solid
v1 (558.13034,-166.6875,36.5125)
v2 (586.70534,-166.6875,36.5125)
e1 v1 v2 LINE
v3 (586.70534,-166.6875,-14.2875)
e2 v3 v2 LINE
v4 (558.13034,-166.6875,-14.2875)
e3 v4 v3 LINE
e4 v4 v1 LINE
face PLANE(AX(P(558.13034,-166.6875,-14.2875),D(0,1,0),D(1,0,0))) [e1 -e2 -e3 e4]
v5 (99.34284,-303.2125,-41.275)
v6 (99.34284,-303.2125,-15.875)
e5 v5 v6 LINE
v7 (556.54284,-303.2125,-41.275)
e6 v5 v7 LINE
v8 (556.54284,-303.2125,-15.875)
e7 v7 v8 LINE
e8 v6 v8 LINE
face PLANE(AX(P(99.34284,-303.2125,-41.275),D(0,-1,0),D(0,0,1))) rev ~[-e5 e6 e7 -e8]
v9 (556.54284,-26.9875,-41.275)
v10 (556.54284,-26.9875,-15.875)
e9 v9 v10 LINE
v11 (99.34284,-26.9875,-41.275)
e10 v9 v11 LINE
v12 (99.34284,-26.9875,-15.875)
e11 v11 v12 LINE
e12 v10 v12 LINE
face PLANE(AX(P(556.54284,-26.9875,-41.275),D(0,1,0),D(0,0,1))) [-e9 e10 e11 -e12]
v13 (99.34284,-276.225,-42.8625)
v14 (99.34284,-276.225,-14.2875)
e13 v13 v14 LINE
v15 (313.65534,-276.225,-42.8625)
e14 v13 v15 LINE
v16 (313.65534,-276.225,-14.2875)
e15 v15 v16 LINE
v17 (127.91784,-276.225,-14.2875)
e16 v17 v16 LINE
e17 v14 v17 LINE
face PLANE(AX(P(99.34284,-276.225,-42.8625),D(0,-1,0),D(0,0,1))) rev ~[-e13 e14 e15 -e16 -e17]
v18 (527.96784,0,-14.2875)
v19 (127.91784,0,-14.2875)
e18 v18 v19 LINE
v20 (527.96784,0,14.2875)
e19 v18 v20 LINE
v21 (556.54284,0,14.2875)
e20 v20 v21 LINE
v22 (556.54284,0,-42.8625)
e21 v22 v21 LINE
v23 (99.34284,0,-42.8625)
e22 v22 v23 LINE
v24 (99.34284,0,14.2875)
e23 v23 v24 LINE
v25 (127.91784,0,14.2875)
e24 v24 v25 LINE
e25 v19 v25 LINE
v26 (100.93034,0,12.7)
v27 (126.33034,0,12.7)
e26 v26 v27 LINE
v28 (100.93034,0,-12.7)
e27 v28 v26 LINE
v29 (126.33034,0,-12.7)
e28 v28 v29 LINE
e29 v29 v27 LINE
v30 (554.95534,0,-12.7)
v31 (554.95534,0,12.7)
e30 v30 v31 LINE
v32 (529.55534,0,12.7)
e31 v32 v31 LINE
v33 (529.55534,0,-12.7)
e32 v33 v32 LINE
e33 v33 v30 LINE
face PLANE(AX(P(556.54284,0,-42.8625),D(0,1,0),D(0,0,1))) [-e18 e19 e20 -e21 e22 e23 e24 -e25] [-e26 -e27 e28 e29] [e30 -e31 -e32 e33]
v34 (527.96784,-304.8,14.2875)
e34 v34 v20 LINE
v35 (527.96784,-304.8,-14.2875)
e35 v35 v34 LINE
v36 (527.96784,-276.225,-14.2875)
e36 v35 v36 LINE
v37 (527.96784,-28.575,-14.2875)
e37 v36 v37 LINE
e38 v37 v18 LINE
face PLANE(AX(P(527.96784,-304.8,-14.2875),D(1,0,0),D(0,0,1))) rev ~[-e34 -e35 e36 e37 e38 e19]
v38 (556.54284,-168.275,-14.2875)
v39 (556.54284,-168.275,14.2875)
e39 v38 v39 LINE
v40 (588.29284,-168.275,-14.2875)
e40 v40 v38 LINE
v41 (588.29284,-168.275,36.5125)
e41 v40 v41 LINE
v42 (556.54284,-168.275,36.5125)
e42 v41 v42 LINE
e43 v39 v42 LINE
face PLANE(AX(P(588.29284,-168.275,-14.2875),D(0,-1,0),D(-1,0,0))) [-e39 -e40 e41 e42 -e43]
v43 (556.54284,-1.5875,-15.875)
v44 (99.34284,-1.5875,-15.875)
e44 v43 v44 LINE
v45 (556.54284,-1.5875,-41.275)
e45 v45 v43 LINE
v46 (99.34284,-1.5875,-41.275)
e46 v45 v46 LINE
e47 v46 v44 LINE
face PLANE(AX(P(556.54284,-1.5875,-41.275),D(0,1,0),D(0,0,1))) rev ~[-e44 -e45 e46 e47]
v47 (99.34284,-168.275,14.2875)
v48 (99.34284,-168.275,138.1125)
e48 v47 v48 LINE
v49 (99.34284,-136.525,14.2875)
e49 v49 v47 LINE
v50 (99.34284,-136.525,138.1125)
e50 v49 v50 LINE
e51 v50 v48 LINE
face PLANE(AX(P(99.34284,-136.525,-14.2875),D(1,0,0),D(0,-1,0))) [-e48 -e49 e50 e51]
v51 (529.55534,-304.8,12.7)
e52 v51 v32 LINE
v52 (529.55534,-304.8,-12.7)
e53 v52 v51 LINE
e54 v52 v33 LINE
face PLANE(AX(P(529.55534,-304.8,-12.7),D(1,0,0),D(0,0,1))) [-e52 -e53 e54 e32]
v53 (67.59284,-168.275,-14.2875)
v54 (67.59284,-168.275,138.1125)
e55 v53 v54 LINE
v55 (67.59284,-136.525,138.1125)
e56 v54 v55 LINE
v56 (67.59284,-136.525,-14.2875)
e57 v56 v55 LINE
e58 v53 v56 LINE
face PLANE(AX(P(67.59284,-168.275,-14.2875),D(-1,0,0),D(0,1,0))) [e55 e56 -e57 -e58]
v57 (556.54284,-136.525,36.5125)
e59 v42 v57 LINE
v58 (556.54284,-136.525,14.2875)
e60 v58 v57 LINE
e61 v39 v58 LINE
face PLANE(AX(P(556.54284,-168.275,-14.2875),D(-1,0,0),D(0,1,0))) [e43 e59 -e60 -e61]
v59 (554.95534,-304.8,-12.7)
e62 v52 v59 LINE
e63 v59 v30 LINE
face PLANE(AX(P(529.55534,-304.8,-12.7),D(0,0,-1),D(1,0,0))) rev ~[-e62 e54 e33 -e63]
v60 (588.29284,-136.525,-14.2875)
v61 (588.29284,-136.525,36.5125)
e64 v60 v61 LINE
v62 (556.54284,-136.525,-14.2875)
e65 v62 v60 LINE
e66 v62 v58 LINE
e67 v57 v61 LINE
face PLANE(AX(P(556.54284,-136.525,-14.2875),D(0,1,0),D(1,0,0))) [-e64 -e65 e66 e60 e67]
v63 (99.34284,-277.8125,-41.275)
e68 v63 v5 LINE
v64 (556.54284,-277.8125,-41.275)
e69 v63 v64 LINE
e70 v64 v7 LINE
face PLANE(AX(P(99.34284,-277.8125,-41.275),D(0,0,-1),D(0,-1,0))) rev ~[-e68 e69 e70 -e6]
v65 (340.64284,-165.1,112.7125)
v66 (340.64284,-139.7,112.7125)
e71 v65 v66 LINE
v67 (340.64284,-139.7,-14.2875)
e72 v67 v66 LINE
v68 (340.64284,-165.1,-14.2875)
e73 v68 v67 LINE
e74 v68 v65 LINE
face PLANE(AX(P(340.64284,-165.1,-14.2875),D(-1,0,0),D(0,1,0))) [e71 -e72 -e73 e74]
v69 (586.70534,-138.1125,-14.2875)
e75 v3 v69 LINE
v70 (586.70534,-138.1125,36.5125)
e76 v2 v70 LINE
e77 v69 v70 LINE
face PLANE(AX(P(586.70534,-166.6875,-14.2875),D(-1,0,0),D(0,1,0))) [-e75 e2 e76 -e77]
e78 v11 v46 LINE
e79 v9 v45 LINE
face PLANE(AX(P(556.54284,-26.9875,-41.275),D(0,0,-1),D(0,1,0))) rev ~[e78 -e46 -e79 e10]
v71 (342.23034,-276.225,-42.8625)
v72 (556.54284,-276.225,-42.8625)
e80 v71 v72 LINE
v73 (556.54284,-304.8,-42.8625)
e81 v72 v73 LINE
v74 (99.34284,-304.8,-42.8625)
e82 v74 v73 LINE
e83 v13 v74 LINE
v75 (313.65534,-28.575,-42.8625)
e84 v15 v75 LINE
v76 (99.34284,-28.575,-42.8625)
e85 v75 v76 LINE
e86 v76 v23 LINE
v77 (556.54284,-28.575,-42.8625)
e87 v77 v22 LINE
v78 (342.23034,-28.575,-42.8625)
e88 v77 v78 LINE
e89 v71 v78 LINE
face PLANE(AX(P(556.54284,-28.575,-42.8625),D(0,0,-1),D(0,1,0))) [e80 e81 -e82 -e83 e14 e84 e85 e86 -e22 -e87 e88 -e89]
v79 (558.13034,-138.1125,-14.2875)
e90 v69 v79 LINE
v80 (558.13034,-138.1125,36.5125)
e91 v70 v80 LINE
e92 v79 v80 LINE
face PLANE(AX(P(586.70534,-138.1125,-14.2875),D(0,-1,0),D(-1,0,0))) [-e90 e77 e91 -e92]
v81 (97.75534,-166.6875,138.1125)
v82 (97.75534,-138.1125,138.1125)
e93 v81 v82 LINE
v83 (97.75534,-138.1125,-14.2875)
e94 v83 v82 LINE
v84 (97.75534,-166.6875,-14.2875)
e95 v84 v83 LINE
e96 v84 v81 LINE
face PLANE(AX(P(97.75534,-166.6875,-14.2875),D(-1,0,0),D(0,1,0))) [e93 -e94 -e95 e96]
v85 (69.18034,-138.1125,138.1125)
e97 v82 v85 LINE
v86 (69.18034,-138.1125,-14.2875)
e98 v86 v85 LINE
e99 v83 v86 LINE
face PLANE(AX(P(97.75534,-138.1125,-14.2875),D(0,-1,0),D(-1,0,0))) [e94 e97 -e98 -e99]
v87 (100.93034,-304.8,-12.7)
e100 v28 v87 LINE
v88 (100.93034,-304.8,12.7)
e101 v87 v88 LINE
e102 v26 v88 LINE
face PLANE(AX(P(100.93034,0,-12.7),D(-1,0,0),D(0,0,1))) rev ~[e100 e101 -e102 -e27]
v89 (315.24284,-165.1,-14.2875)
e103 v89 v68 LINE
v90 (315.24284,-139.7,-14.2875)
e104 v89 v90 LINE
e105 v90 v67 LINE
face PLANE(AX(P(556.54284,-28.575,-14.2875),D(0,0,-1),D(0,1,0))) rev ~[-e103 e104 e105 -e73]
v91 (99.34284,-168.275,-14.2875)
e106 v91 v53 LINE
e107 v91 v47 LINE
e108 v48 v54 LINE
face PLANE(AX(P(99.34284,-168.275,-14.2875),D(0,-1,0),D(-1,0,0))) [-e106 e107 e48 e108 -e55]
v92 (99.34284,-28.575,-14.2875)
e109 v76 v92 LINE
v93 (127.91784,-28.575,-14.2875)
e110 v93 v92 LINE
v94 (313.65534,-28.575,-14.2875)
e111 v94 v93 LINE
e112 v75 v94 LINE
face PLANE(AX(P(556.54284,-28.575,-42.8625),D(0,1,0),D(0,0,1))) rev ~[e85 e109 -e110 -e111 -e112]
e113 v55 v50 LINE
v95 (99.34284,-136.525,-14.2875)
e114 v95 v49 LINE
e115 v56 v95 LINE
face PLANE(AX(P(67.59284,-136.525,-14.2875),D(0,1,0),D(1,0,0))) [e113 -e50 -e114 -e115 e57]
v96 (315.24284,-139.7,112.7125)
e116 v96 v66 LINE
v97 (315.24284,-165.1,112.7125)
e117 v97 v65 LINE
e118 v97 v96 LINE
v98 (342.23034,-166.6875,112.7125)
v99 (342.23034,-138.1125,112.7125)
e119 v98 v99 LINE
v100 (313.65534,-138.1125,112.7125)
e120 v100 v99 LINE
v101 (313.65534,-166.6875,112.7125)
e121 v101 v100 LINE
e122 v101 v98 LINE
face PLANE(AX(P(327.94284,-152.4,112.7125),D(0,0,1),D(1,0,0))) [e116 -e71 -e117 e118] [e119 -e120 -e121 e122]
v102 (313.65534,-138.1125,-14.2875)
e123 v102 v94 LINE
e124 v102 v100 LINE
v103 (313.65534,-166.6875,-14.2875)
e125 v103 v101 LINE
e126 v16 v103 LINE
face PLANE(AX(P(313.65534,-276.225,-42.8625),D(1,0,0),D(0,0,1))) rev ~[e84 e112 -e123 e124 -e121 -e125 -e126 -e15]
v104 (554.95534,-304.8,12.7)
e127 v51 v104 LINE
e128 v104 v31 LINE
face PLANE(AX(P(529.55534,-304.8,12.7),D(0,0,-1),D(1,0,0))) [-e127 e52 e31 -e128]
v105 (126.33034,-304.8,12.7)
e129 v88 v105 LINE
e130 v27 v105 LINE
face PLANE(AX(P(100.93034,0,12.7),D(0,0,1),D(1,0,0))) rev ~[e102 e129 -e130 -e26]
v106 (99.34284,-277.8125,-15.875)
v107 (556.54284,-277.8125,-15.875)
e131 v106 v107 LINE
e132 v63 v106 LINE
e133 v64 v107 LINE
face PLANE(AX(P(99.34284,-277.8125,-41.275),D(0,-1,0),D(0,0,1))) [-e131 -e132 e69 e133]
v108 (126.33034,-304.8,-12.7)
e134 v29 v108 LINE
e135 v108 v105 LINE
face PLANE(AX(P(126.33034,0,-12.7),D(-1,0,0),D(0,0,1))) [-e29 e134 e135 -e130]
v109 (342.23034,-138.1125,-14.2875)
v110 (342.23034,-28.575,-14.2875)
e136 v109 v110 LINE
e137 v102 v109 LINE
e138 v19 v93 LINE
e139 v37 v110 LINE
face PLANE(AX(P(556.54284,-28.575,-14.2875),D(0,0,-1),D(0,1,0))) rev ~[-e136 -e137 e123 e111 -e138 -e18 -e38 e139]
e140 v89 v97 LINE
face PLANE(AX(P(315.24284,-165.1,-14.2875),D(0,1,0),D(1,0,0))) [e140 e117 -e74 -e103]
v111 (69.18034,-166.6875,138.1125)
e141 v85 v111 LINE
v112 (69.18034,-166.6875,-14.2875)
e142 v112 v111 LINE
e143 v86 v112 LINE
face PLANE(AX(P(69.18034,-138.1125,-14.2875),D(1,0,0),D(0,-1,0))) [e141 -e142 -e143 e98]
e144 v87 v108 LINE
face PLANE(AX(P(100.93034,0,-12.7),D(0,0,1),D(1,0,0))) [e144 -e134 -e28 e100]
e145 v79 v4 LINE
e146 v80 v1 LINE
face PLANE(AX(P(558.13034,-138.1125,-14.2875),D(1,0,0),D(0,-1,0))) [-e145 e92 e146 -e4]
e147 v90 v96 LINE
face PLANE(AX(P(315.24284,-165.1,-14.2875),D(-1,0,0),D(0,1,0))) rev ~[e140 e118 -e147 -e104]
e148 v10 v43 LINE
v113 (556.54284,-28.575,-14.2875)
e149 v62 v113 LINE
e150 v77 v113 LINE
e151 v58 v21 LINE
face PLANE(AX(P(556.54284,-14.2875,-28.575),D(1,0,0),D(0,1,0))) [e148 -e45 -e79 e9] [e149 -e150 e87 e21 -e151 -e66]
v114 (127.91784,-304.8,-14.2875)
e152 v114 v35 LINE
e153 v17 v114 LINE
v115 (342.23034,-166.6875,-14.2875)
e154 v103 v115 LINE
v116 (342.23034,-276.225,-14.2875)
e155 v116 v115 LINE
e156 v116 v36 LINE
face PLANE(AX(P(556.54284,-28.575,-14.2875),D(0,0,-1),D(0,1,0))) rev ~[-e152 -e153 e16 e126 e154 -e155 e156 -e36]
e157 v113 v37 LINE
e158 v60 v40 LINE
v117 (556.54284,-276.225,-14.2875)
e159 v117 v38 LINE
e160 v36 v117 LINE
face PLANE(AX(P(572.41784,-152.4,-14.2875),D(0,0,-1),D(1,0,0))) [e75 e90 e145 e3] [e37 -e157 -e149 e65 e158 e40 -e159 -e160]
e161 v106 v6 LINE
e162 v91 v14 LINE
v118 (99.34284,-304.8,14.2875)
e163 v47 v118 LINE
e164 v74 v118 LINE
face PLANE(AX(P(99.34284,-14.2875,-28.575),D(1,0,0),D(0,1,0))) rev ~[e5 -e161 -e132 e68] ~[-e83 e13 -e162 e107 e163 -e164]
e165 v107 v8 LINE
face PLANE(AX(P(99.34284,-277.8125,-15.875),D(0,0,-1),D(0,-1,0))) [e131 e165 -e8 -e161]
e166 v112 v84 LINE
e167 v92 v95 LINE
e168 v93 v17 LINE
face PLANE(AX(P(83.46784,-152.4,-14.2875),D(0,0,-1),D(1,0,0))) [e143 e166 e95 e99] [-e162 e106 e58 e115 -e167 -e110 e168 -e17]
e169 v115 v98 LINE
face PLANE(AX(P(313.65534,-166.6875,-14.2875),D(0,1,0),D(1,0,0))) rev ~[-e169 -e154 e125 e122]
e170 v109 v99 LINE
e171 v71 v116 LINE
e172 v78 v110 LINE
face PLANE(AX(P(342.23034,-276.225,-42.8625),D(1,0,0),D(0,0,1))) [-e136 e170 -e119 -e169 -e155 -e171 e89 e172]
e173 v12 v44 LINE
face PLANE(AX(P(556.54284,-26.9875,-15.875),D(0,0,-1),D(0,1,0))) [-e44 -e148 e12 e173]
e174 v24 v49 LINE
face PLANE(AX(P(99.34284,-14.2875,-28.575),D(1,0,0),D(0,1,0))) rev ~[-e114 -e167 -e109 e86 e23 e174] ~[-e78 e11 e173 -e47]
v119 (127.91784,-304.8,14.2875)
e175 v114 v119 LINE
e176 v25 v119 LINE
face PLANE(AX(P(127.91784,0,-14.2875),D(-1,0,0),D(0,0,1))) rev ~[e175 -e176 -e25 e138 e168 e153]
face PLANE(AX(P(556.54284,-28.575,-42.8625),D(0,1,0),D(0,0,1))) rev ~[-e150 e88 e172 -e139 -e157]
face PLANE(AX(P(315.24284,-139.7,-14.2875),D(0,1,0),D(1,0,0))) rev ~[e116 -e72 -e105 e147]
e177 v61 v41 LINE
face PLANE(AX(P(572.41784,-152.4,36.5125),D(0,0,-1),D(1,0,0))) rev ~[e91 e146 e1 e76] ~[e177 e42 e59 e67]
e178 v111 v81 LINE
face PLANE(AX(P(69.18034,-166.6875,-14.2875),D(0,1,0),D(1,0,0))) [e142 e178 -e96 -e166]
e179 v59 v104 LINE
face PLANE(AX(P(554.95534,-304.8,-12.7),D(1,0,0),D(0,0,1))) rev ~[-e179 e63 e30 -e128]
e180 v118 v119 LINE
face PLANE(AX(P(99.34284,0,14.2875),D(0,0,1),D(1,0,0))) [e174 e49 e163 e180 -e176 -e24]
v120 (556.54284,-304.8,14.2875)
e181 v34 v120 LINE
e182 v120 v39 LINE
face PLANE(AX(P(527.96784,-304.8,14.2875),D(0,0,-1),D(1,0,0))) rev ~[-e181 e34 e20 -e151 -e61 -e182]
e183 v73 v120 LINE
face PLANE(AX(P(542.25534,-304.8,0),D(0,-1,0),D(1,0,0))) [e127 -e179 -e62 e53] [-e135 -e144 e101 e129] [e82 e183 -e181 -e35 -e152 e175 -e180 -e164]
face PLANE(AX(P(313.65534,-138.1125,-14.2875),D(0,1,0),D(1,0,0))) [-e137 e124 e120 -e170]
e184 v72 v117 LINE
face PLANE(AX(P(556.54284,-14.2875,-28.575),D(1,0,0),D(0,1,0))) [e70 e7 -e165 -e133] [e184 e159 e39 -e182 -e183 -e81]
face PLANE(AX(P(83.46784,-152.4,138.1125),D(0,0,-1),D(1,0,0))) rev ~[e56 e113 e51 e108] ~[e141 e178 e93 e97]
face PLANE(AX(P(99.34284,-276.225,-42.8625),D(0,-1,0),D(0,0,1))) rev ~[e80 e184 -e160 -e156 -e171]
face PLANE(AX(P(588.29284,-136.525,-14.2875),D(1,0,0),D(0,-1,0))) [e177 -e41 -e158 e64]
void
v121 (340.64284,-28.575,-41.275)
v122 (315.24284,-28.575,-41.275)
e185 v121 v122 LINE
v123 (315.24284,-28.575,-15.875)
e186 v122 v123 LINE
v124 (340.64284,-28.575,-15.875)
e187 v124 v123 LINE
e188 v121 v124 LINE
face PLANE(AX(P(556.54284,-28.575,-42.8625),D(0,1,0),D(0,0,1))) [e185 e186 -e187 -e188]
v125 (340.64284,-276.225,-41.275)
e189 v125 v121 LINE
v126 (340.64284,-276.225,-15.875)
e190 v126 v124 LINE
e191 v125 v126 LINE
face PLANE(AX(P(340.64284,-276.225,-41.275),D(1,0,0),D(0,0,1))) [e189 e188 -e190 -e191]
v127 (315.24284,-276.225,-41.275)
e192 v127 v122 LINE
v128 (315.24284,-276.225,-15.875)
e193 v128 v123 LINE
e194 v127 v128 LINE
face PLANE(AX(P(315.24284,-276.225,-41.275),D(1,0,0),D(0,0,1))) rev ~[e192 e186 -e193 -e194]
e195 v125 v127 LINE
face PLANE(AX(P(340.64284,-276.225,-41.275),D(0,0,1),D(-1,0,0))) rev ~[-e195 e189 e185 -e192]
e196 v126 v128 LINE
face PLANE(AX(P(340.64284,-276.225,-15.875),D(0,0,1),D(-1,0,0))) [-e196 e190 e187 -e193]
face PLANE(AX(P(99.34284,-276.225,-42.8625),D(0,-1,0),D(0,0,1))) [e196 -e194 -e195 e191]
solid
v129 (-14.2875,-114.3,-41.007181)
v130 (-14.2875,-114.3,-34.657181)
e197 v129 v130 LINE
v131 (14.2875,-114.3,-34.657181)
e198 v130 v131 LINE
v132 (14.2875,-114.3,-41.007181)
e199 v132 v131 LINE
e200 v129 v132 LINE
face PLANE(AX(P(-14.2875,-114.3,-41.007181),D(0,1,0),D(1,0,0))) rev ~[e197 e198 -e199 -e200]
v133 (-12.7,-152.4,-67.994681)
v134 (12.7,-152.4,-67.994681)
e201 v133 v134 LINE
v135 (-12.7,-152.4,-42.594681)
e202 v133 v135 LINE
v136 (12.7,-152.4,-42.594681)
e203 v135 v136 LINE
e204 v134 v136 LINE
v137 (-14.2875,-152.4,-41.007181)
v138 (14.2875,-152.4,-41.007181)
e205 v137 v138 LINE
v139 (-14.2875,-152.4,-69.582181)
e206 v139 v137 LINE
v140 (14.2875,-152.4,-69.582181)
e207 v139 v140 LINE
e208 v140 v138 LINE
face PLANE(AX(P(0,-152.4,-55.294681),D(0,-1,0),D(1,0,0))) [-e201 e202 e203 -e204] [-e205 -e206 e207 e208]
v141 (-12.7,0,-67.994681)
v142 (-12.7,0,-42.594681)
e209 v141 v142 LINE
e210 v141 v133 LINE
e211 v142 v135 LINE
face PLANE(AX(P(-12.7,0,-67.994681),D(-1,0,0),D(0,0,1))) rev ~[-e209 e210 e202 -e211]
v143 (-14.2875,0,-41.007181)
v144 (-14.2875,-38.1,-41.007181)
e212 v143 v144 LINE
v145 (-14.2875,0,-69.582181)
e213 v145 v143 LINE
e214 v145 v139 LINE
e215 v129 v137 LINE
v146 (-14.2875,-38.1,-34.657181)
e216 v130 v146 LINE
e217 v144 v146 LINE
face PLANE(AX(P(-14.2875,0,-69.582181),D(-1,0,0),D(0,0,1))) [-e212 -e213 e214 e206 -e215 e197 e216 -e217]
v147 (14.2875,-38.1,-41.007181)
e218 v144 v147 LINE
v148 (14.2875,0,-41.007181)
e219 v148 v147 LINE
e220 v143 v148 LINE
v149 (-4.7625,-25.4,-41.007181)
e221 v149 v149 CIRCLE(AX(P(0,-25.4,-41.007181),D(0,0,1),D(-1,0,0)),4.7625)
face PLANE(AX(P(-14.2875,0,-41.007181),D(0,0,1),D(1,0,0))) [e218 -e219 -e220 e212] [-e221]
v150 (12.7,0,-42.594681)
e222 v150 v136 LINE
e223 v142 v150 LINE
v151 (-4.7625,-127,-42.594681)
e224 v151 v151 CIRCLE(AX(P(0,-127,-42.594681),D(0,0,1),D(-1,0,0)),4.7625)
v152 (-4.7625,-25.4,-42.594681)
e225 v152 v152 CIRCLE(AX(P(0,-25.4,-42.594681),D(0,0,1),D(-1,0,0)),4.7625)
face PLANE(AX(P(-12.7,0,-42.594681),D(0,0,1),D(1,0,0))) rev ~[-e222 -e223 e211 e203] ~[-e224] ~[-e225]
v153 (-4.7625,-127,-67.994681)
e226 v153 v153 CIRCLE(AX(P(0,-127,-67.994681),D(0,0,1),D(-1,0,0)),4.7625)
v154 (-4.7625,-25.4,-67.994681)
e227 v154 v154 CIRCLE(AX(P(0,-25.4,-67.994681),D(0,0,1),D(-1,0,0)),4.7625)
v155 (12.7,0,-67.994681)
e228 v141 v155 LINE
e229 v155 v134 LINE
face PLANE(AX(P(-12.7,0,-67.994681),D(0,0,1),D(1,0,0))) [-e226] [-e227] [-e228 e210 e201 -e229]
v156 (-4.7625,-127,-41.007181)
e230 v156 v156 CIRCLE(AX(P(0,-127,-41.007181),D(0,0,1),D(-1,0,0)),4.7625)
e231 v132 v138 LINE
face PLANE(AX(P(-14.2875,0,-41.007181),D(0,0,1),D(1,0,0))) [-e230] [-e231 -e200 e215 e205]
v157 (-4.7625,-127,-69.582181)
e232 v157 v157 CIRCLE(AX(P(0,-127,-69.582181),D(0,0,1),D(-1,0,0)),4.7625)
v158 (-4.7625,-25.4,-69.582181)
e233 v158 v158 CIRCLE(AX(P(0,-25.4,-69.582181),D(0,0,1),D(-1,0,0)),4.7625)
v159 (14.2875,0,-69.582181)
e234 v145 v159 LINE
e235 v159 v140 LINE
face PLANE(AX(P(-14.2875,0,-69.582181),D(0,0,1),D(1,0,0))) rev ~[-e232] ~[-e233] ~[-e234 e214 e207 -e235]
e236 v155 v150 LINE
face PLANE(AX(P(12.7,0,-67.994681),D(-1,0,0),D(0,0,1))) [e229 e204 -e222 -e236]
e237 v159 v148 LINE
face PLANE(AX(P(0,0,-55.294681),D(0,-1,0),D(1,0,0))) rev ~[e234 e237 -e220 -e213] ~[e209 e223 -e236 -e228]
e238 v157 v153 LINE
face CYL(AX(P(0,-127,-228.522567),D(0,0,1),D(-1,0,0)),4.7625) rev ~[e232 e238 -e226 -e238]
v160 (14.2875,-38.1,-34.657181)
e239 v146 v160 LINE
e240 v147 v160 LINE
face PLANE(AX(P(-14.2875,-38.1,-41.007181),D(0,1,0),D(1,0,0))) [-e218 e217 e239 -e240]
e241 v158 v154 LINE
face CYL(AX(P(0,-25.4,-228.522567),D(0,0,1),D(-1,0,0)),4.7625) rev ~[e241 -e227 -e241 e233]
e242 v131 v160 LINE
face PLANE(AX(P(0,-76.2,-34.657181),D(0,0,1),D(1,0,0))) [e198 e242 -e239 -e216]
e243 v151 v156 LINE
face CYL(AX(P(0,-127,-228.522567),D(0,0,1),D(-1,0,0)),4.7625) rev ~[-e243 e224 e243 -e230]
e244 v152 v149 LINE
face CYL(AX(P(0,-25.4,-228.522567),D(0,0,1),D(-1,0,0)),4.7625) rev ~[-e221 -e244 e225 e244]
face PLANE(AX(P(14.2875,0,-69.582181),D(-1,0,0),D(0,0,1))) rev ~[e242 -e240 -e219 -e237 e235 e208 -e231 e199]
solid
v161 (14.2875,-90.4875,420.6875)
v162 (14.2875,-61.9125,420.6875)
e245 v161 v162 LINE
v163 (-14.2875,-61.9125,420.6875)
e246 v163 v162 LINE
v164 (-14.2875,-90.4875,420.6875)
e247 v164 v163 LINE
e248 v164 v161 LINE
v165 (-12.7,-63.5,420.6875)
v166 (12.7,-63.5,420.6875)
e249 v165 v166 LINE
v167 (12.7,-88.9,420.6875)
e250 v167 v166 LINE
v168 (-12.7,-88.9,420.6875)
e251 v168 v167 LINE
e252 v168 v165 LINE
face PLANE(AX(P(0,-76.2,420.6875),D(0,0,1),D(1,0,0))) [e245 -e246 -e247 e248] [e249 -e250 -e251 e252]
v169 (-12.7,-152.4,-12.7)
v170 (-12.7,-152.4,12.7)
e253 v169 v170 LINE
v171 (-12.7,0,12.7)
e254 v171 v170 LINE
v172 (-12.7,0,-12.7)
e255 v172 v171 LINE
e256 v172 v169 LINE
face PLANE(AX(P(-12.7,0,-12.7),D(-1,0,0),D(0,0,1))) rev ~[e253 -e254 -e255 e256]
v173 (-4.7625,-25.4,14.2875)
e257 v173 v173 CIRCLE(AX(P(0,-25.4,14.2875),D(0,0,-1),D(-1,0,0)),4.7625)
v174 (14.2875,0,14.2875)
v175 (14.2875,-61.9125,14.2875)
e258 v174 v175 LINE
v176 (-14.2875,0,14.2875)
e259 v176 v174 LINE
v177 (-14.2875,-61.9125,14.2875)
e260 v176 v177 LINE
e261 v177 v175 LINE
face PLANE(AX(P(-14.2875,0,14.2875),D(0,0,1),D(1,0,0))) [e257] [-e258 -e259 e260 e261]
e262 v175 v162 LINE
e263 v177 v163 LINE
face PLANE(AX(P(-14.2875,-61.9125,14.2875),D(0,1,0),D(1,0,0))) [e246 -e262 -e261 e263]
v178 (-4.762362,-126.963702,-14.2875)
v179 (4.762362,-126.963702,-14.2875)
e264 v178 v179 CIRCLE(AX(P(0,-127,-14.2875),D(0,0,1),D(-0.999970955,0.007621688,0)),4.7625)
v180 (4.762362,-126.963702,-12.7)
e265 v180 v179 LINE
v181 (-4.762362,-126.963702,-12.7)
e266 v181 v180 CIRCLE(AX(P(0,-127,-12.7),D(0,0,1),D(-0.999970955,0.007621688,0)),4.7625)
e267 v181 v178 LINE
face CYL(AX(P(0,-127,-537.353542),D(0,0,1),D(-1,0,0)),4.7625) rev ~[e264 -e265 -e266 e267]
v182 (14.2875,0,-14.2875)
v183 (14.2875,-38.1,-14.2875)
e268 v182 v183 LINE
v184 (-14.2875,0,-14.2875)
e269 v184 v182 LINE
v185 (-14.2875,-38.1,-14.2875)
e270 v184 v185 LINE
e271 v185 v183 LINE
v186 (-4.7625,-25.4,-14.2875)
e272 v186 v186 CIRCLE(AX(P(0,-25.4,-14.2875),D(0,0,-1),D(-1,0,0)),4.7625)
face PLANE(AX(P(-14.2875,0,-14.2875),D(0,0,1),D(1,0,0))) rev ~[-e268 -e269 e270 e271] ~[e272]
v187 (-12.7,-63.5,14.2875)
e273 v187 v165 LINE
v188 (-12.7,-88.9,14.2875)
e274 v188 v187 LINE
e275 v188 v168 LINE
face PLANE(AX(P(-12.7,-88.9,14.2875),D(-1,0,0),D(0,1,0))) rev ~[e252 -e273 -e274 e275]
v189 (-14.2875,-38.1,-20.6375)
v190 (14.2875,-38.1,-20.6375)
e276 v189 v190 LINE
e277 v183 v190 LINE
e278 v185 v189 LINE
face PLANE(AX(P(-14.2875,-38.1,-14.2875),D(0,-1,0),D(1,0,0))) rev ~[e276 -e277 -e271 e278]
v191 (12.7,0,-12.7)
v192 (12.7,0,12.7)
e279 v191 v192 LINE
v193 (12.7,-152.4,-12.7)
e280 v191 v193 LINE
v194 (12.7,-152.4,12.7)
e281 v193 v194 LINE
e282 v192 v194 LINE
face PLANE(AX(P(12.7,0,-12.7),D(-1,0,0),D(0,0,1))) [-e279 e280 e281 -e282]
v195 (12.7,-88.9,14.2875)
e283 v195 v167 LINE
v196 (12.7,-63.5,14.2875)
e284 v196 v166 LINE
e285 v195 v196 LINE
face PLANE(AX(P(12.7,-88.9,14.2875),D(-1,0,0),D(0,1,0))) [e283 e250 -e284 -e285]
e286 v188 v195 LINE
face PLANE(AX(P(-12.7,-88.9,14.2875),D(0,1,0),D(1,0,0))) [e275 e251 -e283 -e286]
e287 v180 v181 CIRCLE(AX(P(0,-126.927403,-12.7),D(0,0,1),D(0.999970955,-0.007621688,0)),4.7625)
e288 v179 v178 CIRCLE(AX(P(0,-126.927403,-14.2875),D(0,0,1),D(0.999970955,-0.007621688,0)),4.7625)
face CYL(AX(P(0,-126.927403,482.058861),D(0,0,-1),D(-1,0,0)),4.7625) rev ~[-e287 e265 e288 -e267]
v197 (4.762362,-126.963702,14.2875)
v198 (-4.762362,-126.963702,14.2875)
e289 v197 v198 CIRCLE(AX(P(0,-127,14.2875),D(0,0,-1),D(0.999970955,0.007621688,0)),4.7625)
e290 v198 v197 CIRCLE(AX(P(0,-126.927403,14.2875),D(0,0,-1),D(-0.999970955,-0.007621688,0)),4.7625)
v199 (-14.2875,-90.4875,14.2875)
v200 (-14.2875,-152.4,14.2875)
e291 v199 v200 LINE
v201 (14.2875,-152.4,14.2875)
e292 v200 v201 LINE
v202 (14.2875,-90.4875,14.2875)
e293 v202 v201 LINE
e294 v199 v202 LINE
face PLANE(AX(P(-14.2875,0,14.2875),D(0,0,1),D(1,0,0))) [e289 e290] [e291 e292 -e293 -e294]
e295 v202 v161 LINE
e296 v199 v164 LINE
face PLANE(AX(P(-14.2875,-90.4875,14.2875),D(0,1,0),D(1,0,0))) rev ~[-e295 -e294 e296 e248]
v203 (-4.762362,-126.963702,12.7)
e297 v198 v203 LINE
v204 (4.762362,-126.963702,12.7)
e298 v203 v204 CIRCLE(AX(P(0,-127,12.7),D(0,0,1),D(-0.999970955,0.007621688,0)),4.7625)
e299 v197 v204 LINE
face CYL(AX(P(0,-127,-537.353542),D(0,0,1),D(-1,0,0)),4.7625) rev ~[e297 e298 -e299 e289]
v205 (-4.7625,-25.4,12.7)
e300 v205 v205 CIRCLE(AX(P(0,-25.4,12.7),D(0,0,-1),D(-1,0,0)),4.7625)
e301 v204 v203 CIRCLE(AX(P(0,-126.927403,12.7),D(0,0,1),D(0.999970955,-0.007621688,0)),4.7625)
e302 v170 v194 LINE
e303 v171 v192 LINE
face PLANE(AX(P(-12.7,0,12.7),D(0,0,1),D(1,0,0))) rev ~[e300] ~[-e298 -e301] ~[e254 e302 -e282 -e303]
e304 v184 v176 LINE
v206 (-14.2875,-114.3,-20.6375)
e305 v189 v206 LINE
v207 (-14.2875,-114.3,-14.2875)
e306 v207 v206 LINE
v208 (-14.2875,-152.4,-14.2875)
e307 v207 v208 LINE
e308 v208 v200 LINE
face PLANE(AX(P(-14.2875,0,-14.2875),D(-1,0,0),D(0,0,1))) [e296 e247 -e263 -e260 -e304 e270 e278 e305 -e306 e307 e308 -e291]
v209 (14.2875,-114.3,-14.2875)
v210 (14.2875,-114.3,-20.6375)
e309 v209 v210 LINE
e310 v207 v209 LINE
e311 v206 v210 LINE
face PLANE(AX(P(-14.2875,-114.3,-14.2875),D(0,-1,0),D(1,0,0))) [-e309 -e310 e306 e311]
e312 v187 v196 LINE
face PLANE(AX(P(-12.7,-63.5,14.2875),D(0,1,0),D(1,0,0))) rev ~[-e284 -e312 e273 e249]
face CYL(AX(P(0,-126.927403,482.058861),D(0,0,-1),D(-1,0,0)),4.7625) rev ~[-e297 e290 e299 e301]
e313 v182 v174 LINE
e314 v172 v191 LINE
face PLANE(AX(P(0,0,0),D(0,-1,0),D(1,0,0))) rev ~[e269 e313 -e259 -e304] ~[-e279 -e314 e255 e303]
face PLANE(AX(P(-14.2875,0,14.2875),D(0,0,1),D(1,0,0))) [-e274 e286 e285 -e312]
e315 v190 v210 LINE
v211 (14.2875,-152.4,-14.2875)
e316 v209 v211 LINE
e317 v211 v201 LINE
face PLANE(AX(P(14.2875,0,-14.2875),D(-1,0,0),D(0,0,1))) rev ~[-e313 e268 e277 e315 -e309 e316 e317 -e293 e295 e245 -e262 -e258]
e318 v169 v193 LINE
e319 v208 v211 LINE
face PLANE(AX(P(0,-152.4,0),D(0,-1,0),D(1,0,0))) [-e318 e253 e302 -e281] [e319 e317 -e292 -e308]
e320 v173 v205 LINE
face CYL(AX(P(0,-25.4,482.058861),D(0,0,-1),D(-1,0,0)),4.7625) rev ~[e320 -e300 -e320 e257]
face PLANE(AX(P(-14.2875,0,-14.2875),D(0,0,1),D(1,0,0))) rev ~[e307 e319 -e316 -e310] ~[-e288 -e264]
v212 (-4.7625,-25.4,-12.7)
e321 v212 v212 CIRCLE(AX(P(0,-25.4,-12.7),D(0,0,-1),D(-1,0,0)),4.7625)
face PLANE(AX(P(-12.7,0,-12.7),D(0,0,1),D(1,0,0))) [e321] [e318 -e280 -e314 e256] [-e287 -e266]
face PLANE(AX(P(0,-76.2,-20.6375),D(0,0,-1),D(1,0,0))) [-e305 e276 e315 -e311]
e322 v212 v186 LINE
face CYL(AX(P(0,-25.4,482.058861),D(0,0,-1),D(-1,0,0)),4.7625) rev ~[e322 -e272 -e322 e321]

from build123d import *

# Parameters (mm, degrees)
F0_W      = 28.575
F0_H      = 28.575
F0_W_2    = 25.4
F0_H_2    = 25.4
F1_DEPTH  = 152.4
F2_W      = 28.575
F2_H      = 28.575
F2_W_2    = 25.4
F2_H_2    = 25.4
F3_DEPTH  = 406.4
F4_W      = 28.575
F4_H      = 76.2
F5_DEPTH  = 6.35
F7_D      = 9.525
F8_W      = 28.575
F8_H      = 28.575
F8_W_2    = 25.4
F8_H_2    = 25.4
F9_DEPTH  = 152.4
F10_W     = 28.575
F10_H     = 76.2
F11_DEPTH = 6.35
F13_D     = 9.525
F13_2_D   = 9.525
F14_W     = 28.575
F14_H     = 28.575
F14_W_2   = 25.4
F14_H_2   = 25.4
F15_DEPTH = 304.8
F16_W     = 28.575
F16_H     = 28.575
F16_W_2   = 25.4
F16_H_2   = 25.4
F17_DEPTH = 457.2
F18_W     = 28.575
F18_H     = 28.575
F18_W_2   = 25.4
F18_H_2   = 25.4
F19_DEPTH = 304.8
F20_W     = 28.575
F20_H     = 28.575
F20_W_2   = 25.4
F20_H_2   = 25.4
F21_DEPTH = 247.65
F22_W     = 28.575
F22_H     = 28.575
F22_W_2   = 25.4
F22_H_2   = 25.4
F23_DEPTH = 457.2
F24_W     = 28.575
F24_H     = 28.575
F24_W_2   = 25.4
F24_H_2   = 25.4
F25_DEPTH = 127
F27_DEPTH = 152.4
F29_DEPTH = 50.8


with BuildPart() as f1:
    # F0 (on Front) → F1 (new body)
    with BuildSketch(Plane.XZ):
        Rectangle(F0_W, F0_H)
        Rectangle(F0_W_2, F0_H_2, mode=Mode.SUBTRACT)
    extrude(amount=F1_DEPTH)

    # F2 (on face) → F3 (join)
    with BuildSketch(Plane.XY.offset(14.2875)):
        with Locations((0, -76.2)):
            Rectangle(F2_W, F2_H)
        with Locations((0, -76.2)):
            Rectangle(F2_W_2, F2_H_2, mode=Mode.SUBTRACT)
    extrude(amount=F3_DEPTH)

    # F4 (on face) → F5 (join)
    with BuildSketch(Plane(origin=(0, 0, -14.2875), x_dir=(1, 0, 0), z_dir=(0, 0, -1))):
        with Locations((0, 76.2)):
            Rectangle(F4_W, F4_H)
    extrude(amount=F5_DEPTH)

    # F7 (through all)
    with Locations(Plane.XY.offset(14.2875)):
        with Locations((0, -25.4), (0, -126.9274034262)):
            Hole(F7_D / 2)

    # F13 (through all)
    with Locations(Plane(origin=(0, 0, -69.5821813405), x_dir=(1, 0, 0), z_dir=(0, 0, -1))):
        with Locations((0, 127), (0, 25.4)):
            Hole(F13_D / 2)


with BuildPart() as f9:
    # F8 (on Front) → F9 (new body)
    with BuildSketch(Plane.XZ):
        with Locations((0, -55.2946813405)):
            Rectangle(F8_W, F8_H)
        with Locations((0, -55.2946813405)):
            Rectangle(F8_W_2, F8_H_2, mode=Mode.SUBTRACT)
    extrude(amount=F9_DEPTH)

    # F10 (on face) → F11 (join)
    with BuildSketch(Plane.XY.offset(-41.0071813405)):
        with Locations((0, -76.2)):
            Rectangle(F10_W, F10_H)
    extrude(amount=F11_DEPTH)

    # F13#2 (through all)
    with Locations(Plane(origin=(0, 0, -69.5821813405), x_dir=(1, 0, 0), z_dir=(0, 0, -1))):
        with Locations((0, 127), (0, 25.4)):
            Hole(F13_2_D / 2)


with BuildPart() as f15:
    # F14 (on Front) → F15 (new body)
    with BuildSketch(Plane.XZ):
        with Locations((113.6303395033, 0)):
            Rectangle(F14_W, F14_H)
        with Locations((113.6303395033, 0)):
            Rectangle(F14_W_2, F14_H_2, mode=Mode.SUBTRACT)
    extrude(amount=F15_DEPTH)

    # F16 (on face) → F17 (join)
    with BuildSketch(Plane(origin=(99.3428395033, 0, 0), x_dir=(0, -1, 0), z_dir=(-1, 0, 0))):
        with Locations((290.5125, -28.575)):
            Rectangle(F16_W, F16_H)
        with Locations((290.5125, -28.575)):
            Rectangle(F16_W_2, F16_H_2, mode=Mode.SUBTRACT)
    extrude(amount=-F17_DEPTH)

    # F18 (on face) → F19 (join)
    with BuildSketch(Plane.XZ.offset(304.8)):
        with Locations((542.2553395033, 0)):
            Rectangle(F18_W, F18_H)
        with Locations((542.2553395033, 0)):
            Rectangle(F18_W_2, F18_H_2, mode=Mode.SUBTRACT)
    extrude(amount=-F19_DEPTH)

    # F20 (on face) → F21 (join)
    with BuildSketch(Plane(origin=(0, -276.225, 0), x_dir=(-1, 0, 0), z_dir=(0, 1, 0))):
        with Locations((-327.9428395033, -28.575)):
            Rectangle(F20_W, F20_H)
        with Locations((-327.9428395033, -28.575)):
            Rectangle(F20_W_2, F20_H_2, mode=Mode.SUBTRACT)
    extrude(amount=F21_DEPTH)

    # F22 (on face) → F23 (join)
    with BuildSketch(Plane.YZ.offset(556.5428395033)):
        with Locations((-14.2875, -28.575)):
            Rectangle(F22_W, F22_H)
        with Locations((-14.2875, -28.575)):
            Rectangle(F22_W_2, F22_H_2, mode=Mode.SUBTRACT)
    extrude(amount=-F23_DEPTH)

    # F24 (on face) → F25 (join)
    with BuildSketch(Plane.XY.offset(-14.2875)):
        with Locations((327.9428395033, -152.4)):
            Rectangle(F24_W, F24_H)
        with Locations((327.9428395033, -152.4)):
            Rectangle(F24_W_2, F24_H_2, mode=Mode.SUBTRACT)
    extrude(amount=F25_DEPTH)

    # F26 (on face) → F27 (join)
    with BuildSketch(Plane(origin=(0, 0, -14.2875), x_dir=(1, 0, 0), z_dir=(0, 0, -1))):
        Polygon((99.3428395033, 136.525), (99.3428395033, 152.4), (99.3428395033, 168.275), (67.5928395033, 168.275), (67.5928395033, 136.525), align=None)
        Polygon((97.7553395033, 166.6875), (97.7553395033, 152.4), (97.7553395033, 138.1125), (69.1803395033, 138.1125), (69.1803395033, 166.6875), align=None, mode=Mode.SUBTRACT)
    extrude(amount=-F27_DEPTH)

    # F28 (on face) → F29 (join)
    with BuildSketch(Plane(origin=(0, 0, -14.2875), x_dir=(1, 0, 0), z_dir=(0, 0, -1))):
        Polygon((556.5428395033, 168.275), (556.5428395033, 152.4), (556.5428395033, 136.525), (588.2928395033, 136.525), (588.2928395033, 168.275), align=None)
        Polygon((558.1303395033, 138.1125), (558.1303395033, 152.4), (558.1303395033, 166.6875), (586.7053395033, 166.6875), (586.7053395033, 138.1125), align=None, mode=Mode.SUBTRACT)
    extrude(amount=-F29_DEPTH)


solid = Compound([f1.part, f9.part, f15.part])
